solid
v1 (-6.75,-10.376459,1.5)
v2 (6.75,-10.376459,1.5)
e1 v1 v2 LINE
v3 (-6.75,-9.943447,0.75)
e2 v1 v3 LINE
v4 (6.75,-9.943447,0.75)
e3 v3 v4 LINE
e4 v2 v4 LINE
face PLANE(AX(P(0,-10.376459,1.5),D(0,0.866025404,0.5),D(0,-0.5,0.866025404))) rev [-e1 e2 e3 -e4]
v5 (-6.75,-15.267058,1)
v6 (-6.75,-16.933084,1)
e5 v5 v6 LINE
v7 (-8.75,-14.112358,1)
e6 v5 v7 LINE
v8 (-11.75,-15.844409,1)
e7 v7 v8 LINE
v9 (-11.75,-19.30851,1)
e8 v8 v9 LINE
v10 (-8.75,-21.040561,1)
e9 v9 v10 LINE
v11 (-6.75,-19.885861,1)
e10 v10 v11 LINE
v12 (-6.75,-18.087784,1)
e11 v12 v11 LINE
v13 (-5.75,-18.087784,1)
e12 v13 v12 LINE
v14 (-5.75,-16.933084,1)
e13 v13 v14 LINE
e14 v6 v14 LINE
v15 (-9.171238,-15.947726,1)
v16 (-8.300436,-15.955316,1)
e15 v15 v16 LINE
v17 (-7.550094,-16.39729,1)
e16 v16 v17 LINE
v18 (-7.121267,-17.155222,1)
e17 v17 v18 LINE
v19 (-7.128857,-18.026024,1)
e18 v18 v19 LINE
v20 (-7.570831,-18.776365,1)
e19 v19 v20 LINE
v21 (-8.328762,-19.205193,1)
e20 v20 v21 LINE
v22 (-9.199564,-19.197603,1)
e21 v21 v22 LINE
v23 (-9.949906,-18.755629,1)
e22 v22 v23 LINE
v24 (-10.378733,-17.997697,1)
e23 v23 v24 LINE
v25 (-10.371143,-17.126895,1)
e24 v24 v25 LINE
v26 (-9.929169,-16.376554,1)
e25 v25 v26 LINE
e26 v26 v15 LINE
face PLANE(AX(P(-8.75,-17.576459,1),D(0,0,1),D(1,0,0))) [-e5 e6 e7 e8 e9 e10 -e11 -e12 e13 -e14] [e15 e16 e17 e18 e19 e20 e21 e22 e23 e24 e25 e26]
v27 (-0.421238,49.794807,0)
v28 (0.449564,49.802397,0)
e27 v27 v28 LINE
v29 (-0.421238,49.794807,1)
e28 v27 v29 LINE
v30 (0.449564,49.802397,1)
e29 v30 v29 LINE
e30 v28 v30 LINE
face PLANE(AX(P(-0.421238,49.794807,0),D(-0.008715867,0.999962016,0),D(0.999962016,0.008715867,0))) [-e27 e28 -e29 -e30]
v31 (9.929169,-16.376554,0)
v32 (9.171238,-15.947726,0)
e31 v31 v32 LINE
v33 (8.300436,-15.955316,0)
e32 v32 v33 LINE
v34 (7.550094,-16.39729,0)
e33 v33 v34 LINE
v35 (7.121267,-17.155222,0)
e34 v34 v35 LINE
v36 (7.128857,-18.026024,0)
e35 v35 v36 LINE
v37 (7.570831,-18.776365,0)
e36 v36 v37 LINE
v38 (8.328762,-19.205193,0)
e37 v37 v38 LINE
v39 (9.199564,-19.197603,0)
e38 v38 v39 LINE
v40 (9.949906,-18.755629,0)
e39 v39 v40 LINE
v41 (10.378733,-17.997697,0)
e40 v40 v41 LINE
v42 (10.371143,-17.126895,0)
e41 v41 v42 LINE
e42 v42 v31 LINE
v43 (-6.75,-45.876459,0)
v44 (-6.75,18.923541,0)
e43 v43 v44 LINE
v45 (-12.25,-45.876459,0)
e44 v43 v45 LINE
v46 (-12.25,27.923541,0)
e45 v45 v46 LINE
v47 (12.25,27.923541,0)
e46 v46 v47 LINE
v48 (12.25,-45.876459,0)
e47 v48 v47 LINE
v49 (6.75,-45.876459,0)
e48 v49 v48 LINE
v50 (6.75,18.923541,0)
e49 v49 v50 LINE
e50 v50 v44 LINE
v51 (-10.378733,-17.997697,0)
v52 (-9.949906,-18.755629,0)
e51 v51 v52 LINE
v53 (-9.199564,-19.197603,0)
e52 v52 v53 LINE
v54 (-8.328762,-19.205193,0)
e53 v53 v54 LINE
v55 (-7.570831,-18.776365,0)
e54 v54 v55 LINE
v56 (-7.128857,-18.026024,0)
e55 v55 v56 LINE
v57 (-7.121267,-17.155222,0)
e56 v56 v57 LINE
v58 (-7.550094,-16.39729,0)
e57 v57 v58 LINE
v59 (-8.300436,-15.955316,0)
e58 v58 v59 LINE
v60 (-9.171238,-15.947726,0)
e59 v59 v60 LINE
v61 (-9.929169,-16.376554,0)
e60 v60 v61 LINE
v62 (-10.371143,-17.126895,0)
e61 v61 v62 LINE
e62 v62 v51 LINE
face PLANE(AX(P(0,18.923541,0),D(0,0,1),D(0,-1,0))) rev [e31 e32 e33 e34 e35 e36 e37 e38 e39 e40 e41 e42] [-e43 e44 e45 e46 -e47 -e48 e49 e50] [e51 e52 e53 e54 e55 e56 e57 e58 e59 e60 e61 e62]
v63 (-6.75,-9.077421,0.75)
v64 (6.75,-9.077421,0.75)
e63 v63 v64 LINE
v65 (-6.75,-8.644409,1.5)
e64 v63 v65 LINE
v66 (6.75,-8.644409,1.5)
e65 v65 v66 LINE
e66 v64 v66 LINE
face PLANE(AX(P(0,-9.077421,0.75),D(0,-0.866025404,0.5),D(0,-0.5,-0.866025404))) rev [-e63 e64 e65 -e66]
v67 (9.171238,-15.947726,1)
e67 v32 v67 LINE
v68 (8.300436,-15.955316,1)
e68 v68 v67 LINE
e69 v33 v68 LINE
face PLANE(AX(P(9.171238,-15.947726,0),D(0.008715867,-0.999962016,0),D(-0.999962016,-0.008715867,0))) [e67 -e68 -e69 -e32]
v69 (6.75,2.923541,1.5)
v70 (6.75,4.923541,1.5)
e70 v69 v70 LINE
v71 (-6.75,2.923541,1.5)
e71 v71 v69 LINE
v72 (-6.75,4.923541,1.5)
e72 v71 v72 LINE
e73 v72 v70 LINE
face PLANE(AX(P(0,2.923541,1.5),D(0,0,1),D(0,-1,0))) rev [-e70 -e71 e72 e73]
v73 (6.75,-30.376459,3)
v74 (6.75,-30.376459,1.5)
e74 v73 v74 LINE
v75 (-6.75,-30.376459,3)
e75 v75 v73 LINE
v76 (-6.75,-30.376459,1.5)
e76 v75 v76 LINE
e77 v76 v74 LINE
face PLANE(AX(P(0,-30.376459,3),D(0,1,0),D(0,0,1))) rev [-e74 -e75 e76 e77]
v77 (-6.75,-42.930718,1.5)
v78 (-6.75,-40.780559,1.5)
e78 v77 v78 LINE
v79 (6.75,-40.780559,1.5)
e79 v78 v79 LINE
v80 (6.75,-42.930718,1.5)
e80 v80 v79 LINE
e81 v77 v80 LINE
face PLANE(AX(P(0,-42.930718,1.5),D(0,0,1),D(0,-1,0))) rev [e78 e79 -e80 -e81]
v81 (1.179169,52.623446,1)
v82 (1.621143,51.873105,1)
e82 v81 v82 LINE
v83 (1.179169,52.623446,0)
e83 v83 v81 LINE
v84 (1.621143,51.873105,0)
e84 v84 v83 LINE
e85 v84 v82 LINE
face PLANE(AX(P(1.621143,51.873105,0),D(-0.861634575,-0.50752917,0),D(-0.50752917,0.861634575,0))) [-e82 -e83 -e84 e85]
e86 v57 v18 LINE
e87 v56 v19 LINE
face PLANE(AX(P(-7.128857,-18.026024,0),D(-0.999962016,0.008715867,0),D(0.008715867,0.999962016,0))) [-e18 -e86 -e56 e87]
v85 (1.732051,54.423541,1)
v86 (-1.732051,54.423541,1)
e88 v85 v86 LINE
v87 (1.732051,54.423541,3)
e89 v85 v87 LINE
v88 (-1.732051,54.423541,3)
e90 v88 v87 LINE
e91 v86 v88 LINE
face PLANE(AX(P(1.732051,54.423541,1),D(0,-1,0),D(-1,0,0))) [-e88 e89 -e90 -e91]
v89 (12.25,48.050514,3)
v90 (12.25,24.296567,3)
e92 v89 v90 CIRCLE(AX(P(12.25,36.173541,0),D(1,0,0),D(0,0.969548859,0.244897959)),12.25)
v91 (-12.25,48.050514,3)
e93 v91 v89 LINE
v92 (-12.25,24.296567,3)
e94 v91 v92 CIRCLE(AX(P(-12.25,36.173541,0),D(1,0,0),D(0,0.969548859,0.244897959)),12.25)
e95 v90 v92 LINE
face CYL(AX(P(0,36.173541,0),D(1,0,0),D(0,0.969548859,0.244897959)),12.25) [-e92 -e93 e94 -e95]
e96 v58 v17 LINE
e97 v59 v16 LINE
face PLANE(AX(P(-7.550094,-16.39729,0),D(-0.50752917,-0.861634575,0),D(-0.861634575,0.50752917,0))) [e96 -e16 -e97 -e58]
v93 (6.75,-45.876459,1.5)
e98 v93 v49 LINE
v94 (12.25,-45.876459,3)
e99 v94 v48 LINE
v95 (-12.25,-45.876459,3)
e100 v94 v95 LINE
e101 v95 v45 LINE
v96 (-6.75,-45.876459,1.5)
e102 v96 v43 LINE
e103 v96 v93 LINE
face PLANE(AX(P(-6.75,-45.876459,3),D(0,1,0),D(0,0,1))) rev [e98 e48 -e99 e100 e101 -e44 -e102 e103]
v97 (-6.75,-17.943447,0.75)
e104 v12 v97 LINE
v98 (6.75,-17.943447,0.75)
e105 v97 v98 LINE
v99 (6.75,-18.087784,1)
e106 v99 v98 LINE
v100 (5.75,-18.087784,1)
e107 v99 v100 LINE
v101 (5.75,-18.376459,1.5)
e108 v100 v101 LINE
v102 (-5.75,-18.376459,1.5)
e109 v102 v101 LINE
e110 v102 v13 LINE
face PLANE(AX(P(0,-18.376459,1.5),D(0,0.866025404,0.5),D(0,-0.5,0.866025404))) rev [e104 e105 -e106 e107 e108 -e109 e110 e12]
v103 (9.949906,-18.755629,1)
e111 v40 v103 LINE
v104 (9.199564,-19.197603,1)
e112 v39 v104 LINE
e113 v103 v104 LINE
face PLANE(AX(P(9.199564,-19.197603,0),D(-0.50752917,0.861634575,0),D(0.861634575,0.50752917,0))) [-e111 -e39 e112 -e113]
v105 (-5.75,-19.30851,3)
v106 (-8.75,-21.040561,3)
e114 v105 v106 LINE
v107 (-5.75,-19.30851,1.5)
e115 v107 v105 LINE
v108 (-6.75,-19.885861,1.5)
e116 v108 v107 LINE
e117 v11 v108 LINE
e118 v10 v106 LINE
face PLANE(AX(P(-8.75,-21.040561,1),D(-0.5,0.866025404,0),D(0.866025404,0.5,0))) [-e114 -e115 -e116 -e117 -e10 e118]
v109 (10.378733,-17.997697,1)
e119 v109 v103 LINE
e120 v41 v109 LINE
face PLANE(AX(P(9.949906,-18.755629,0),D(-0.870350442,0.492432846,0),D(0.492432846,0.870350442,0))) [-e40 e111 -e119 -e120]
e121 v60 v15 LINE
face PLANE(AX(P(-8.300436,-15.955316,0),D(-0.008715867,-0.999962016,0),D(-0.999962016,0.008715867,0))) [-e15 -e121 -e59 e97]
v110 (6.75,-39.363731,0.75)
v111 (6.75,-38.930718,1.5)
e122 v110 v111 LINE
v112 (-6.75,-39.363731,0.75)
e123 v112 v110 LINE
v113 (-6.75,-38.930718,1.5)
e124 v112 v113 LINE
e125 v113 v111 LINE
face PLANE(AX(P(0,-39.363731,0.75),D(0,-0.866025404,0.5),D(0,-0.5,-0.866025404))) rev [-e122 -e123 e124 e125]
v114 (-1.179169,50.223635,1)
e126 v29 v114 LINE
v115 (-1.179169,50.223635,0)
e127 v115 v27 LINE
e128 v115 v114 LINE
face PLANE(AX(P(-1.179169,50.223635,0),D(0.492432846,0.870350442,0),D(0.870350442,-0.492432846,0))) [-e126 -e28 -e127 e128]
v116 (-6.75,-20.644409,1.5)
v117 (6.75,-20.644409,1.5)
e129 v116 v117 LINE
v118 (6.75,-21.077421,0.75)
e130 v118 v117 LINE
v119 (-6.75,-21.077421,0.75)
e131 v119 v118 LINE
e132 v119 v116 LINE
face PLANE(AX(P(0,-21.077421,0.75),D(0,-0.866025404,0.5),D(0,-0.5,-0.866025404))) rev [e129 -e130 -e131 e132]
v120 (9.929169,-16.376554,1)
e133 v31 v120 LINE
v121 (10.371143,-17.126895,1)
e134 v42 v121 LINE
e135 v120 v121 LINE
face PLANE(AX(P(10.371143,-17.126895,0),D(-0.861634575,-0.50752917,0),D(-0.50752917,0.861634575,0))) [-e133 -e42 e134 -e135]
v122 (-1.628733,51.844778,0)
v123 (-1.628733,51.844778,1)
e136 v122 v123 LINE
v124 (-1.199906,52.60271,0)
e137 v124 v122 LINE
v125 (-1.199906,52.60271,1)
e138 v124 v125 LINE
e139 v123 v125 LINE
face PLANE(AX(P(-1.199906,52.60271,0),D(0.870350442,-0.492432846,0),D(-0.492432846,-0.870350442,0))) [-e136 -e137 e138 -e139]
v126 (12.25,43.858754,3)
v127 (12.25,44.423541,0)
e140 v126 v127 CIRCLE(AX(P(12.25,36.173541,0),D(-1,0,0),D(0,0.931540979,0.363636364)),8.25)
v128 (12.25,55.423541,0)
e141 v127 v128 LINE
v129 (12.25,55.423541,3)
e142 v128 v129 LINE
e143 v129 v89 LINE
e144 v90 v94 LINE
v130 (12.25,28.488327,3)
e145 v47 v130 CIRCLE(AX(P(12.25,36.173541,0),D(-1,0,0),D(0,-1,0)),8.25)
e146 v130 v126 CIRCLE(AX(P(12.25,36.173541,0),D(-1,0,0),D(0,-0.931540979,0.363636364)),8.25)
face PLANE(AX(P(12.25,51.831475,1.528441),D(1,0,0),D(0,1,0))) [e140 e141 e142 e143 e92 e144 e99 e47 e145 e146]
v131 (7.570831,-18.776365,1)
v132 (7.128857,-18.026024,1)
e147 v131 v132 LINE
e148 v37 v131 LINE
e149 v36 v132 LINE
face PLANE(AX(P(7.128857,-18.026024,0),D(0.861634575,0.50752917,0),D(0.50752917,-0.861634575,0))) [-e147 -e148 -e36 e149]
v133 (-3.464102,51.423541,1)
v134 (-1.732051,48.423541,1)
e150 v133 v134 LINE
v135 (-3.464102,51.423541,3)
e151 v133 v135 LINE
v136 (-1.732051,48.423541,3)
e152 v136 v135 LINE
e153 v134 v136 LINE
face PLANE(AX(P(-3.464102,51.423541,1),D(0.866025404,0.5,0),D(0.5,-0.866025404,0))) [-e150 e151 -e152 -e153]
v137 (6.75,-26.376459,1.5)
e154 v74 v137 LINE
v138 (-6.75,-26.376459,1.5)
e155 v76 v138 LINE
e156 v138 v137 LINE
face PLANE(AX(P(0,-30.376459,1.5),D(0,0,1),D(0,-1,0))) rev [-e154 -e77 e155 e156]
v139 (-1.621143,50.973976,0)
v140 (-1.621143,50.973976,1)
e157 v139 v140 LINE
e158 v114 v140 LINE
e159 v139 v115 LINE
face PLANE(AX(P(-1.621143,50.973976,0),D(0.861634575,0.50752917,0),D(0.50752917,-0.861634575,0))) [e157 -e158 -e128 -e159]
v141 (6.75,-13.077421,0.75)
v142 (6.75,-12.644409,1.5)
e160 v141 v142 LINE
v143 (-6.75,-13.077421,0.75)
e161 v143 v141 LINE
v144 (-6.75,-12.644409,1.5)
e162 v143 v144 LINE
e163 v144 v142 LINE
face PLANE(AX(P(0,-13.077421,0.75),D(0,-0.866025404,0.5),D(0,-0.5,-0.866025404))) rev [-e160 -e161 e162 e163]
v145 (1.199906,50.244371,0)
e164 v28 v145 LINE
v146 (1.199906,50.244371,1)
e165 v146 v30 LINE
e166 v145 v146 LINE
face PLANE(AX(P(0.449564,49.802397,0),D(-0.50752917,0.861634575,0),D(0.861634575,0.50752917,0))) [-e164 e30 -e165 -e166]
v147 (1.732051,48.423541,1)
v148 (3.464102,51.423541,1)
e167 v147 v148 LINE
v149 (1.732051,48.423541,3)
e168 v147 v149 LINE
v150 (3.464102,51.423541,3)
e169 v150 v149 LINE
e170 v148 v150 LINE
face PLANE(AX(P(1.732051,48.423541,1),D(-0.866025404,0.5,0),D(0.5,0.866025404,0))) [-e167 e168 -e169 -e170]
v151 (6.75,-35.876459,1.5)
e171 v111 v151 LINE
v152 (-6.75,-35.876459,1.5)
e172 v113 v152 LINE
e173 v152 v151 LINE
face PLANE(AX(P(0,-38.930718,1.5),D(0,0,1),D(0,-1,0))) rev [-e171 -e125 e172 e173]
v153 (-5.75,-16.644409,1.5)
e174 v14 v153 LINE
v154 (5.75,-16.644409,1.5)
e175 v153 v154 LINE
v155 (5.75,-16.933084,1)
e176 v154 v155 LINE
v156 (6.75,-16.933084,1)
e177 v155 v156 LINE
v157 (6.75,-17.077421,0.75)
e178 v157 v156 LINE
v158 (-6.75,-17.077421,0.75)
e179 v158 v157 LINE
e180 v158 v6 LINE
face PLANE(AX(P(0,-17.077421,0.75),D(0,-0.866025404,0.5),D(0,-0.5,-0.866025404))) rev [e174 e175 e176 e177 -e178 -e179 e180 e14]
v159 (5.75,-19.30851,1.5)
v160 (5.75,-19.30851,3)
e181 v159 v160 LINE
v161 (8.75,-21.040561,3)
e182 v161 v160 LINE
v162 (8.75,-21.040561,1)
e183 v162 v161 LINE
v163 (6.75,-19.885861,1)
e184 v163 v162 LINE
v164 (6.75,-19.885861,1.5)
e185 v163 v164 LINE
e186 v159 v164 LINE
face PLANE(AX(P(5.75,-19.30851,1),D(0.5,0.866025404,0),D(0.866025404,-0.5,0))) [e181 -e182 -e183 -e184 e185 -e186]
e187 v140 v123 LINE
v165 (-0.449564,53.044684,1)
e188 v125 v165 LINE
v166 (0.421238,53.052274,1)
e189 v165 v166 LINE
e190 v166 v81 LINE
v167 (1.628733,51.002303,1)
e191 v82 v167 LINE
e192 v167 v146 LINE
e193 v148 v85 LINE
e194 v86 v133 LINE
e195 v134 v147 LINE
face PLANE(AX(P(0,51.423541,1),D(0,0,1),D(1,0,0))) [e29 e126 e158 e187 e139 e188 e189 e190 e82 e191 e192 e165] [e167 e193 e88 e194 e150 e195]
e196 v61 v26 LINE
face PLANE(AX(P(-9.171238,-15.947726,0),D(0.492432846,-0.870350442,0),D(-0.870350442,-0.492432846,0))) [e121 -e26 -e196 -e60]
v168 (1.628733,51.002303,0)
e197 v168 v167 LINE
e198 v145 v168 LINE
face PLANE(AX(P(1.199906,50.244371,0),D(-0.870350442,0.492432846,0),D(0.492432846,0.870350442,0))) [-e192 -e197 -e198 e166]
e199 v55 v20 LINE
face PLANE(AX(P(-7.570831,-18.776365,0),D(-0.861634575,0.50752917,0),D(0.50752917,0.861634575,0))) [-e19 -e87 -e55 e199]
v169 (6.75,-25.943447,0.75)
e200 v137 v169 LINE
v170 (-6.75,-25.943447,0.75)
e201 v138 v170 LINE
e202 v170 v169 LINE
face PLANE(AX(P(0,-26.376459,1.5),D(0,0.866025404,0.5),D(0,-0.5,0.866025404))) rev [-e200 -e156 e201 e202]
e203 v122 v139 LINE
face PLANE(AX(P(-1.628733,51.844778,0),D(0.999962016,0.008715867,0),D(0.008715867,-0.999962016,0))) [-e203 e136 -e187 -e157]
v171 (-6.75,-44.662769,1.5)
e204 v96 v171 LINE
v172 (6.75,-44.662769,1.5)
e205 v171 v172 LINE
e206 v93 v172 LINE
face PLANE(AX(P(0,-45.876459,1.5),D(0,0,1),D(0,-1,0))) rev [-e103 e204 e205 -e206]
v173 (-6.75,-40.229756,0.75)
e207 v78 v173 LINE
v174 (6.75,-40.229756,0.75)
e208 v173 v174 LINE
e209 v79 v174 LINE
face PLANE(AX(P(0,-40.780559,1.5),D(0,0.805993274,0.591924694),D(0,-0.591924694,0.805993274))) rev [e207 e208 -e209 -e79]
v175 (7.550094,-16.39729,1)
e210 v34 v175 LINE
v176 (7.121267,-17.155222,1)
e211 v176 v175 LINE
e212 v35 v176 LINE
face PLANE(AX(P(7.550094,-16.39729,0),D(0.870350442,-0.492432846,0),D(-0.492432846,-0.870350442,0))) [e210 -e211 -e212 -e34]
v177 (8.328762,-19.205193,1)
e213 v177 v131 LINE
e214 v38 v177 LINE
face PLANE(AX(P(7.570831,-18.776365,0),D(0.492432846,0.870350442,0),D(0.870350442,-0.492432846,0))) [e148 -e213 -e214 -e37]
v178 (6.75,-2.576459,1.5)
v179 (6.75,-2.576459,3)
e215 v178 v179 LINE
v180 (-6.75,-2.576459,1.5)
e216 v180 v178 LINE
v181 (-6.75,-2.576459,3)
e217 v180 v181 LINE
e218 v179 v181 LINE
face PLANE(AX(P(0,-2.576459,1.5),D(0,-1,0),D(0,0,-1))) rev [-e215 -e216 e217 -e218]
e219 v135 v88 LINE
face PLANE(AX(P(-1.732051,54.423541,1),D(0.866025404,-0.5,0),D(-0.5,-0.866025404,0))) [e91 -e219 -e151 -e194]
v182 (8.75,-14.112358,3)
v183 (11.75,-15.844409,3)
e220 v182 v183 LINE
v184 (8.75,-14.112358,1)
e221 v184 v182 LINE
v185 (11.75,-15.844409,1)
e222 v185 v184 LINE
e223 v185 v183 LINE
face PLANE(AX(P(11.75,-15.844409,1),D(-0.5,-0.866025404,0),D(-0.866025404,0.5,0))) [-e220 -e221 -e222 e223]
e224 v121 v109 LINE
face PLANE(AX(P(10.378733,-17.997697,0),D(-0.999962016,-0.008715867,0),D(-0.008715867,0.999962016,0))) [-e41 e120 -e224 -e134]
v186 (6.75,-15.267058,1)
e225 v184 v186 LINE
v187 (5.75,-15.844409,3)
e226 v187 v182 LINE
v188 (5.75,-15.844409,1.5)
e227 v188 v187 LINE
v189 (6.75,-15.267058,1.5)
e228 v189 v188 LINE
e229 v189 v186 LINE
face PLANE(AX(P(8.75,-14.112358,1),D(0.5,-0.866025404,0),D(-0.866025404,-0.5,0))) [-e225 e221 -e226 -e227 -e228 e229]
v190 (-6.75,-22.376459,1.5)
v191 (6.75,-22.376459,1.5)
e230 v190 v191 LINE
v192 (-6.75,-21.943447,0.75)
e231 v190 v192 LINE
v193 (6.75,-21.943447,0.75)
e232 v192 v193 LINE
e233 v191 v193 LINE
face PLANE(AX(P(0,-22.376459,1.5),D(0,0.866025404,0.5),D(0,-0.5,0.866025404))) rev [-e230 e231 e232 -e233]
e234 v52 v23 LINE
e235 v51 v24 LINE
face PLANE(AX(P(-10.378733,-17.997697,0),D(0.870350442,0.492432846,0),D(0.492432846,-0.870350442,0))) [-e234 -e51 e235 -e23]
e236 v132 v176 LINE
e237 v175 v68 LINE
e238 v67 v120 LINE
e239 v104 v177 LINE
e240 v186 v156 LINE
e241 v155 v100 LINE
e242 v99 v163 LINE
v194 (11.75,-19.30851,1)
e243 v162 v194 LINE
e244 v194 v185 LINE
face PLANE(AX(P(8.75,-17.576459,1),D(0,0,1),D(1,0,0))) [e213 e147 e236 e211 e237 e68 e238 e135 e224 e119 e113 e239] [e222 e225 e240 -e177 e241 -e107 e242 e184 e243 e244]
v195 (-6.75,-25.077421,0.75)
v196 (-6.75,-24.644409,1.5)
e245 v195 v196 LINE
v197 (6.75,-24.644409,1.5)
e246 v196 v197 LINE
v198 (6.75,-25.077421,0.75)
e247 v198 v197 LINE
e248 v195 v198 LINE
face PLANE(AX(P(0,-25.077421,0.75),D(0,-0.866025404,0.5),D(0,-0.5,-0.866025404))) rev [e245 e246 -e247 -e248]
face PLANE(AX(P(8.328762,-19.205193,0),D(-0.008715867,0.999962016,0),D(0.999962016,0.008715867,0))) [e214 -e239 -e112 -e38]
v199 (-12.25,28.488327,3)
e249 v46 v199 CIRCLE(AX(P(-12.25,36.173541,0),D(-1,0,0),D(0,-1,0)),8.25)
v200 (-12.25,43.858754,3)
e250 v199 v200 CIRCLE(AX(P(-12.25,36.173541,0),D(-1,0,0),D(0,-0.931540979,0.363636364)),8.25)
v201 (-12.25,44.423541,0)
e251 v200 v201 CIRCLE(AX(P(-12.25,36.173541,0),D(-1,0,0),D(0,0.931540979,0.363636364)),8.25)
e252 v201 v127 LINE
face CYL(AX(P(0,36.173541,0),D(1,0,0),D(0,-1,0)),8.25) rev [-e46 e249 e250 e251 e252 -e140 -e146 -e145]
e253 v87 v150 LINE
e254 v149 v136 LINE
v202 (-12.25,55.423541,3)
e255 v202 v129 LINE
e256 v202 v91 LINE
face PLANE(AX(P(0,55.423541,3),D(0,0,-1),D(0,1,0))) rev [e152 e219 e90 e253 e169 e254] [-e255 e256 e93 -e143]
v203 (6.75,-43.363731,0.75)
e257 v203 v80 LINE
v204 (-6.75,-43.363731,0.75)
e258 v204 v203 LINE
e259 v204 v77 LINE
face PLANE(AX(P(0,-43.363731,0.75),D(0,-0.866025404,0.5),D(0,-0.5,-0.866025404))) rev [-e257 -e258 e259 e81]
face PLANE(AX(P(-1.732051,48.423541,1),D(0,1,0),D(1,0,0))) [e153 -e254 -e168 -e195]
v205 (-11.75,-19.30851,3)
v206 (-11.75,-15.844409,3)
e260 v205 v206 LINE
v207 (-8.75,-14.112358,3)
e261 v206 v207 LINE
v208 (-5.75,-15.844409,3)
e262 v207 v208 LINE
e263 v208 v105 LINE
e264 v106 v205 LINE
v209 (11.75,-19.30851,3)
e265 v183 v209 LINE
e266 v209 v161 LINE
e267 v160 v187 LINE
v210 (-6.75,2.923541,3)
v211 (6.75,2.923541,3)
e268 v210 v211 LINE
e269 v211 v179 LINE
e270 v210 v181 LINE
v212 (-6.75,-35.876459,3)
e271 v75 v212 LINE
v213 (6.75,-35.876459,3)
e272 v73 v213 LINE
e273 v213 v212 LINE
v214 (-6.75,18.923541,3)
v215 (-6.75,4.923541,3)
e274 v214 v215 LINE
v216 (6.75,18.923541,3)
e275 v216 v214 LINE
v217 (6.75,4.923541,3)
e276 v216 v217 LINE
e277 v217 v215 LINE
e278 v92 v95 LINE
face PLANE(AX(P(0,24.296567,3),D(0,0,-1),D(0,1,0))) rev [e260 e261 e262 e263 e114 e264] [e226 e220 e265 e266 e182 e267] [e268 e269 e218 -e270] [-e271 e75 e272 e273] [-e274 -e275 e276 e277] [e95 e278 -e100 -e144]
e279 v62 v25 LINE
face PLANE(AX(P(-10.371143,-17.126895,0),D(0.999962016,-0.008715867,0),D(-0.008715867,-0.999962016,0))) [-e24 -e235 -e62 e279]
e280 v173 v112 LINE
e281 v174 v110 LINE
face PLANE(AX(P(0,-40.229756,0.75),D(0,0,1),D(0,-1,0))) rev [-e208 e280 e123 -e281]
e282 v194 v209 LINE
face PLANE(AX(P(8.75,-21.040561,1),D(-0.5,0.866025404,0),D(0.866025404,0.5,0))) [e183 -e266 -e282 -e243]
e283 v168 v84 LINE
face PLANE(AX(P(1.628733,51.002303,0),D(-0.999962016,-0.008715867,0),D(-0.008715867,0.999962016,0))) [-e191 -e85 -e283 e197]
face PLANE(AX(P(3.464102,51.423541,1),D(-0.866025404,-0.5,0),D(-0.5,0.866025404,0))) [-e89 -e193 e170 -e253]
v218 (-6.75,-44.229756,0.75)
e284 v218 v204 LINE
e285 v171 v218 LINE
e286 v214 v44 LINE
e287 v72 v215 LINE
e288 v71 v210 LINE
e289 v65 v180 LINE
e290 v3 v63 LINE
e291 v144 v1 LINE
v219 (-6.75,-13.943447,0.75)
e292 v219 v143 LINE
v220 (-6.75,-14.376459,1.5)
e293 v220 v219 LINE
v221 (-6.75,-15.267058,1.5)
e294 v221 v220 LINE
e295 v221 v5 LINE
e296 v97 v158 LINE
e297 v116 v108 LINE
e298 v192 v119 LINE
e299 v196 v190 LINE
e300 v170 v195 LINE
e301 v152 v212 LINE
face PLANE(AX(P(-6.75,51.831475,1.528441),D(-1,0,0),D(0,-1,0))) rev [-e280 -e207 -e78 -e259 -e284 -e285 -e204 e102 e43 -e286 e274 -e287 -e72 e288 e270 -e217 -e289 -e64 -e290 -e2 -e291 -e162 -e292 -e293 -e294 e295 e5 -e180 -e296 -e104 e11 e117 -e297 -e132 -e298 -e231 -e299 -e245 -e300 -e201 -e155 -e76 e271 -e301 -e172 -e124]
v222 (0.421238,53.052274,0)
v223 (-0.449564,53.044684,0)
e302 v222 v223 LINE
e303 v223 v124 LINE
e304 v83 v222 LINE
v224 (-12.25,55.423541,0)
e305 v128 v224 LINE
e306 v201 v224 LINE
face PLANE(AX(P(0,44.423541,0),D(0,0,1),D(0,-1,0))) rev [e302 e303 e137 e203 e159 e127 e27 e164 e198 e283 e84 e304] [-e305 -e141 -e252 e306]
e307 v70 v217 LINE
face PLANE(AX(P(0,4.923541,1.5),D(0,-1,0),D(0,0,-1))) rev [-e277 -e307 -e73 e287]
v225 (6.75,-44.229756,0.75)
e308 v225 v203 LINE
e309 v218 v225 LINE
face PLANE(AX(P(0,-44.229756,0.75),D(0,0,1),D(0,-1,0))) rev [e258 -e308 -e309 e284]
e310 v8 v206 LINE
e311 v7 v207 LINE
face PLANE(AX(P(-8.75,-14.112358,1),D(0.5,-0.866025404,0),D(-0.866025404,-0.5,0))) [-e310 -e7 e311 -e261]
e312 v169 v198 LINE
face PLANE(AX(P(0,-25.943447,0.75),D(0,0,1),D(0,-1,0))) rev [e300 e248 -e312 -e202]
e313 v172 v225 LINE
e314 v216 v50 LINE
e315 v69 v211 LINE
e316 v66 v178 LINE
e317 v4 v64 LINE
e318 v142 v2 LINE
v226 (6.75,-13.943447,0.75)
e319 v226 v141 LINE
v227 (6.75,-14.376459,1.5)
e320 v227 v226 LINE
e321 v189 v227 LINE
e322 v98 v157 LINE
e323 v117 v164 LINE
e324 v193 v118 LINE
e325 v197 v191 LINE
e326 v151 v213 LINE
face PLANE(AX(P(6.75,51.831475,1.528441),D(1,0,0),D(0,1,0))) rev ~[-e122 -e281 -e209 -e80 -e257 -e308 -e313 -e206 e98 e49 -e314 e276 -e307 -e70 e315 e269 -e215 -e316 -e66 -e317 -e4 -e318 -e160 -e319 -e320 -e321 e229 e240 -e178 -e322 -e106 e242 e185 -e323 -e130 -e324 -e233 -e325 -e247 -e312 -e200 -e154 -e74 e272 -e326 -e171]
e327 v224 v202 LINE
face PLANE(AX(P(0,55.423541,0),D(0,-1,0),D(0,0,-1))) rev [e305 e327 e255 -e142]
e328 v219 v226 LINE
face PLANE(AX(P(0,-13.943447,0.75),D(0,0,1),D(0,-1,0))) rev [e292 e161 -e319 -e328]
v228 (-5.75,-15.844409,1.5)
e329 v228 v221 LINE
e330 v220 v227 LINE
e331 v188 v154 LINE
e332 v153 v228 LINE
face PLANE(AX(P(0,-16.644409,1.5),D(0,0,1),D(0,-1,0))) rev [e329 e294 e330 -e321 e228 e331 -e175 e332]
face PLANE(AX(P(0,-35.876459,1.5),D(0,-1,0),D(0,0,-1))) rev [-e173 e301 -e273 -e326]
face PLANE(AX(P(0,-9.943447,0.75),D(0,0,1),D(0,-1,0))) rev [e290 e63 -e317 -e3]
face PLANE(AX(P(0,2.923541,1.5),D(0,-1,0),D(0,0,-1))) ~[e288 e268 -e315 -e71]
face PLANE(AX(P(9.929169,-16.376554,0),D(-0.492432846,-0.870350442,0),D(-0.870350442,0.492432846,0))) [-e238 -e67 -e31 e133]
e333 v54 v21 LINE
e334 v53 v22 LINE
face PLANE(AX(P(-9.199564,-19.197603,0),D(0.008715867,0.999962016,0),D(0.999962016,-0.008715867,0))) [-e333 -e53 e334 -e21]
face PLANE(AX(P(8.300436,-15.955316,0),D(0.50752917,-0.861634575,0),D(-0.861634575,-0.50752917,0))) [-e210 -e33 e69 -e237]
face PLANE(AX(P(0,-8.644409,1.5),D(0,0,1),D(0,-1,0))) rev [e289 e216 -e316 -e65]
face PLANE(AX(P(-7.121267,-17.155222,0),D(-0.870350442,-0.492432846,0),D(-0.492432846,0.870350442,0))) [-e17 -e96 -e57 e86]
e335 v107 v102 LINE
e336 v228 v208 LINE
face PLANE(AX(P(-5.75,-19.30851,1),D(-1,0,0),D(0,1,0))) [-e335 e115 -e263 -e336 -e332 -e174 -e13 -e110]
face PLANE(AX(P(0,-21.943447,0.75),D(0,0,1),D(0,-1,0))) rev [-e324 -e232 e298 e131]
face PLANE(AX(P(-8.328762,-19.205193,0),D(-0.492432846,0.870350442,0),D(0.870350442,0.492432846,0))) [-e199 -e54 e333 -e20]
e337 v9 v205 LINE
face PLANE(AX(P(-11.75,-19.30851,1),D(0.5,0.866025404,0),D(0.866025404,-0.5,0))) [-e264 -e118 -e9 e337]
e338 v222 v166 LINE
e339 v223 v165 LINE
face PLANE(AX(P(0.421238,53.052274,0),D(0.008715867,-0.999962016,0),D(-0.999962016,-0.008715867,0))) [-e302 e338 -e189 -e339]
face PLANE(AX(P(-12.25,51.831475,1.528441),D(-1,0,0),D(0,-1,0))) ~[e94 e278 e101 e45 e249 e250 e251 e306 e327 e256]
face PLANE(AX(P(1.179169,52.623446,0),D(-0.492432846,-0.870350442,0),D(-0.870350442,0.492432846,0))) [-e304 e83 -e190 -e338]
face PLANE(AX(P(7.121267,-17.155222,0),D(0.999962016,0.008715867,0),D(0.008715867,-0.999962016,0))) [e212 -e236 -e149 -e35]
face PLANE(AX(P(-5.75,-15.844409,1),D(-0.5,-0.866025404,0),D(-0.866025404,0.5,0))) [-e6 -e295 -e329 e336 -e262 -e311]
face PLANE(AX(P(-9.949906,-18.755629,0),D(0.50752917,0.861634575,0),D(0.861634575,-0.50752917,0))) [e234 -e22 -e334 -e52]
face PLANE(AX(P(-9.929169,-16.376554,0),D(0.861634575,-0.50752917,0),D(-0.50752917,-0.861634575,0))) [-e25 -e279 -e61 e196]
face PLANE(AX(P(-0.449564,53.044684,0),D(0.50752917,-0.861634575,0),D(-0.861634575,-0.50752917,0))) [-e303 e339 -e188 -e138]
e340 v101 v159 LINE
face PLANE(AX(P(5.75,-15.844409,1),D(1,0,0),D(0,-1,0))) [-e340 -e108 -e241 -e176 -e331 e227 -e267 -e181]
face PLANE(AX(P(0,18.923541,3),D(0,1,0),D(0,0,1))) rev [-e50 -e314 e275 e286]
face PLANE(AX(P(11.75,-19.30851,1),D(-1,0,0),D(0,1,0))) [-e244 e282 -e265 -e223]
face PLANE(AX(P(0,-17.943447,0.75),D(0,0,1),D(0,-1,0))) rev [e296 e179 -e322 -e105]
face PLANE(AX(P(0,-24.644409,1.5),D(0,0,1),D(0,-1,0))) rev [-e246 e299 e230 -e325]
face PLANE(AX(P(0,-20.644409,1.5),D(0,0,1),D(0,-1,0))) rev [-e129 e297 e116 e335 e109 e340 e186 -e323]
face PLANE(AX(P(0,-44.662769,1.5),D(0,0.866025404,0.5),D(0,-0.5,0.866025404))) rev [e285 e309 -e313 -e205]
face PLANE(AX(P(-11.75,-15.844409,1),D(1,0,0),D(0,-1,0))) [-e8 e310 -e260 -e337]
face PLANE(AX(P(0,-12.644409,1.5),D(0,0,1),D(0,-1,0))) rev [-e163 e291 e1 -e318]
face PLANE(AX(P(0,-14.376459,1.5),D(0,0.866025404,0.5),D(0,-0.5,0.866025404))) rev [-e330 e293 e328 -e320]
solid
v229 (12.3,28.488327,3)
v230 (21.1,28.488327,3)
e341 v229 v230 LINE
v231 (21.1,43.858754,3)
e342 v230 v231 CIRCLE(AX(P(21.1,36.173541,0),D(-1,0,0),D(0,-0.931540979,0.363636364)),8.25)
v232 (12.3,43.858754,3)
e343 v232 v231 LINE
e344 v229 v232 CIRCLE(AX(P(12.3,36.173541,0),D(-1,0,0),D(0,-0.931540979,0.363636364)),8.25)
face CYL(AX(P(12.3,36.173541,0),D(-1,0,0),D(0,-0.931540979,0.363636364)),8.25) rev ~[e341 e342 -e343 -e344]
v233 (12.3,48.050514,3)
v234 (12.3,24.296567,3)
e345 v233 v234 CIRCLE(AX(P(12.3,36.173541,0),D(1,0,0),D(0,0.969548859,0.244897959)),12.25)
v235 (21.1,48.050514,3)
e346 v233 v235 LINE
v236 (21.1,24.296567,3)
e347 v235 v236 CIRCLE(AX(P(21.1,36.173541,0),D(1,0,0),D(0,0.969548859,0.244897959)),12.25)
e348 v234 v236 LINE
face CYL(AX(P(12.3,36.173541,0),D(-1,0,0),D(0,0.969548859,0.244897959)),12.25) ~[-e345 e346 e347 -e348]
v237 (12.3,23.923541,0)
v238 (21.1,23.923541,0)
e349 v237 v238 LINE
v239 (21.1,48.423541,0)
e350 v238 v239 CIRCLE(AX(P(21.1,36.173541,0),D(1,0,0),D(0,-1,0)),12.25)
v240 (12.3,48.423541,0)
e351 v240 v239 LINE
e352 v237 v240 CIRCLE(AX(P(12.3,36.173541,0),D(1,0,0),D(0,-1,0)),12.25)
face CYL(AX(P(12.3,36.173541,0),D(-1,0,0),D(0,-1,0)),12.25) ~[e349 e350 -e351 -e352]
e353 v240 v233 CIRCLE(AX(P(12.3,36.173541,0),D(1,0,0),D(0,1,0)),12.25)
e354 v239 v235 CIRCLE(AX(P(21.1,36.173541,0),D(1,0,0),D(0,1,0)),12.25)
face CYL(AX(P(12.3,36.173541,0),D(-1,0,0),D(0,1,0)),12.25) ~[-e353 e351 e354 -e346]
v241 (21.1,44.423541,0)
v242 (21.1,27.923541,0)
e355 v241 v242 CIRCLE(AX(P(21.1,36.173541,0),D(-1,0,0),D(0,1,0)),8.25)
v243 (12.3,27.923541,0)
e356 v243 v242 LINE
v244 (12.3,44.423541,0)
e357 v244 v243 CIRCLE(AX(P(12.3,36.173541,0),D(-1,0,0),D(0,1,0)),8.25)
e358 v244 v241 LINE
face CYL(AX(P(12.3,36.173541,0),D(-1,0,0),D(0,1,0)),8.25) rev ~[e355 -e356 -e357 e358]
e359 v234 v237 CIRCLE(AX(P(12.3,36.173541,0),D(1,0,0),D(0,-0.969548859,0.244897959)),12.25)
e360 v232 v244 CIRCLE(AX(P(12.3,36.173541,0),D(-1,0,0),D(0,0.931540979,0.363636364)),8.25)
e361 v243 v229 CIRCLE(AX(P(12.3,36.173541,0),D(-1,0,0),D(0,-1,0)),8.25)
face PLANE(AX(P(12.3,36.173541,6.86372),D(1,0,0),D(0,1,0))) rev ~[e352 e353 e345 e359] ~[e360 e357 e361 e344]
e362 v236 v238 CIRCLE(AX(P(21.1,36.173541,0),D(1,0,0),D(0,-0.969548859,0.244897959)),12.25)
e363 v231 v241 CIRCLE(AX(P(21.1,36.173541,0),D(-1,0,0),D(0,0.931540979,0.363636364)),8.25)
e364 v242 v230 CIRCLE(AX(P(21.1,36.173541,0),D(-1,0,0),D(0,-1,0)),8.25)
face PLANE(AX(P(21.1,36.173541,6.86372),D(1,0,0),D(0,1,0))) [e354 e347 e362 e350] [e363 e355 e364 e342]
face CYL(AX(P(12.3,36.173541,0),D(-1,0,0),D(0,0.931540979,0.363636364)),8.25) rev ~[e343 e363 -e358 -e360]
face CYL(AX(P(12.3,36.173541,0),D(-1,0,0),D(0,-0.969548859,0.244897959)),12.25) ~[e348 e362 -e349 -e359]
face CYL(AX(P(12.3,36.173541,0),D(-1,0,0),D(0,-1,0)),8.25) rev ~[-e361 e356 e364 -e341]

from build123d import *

# Parameters (mm, degrees)
F1_START = 6.75
F0_W     = 14
F0_H     = 1.5
F0_W_2   = 2
F0_W_3   = 5.5
F1_DEPTH = 5.5
F2_DEPTH = 6.75
F5_DEPTH = 6
F6_START = 1
F6_DEPTH = 24
F7_START = 12.3
F7_DEPTH = 8.8


with BuildPart() as f1:
    # F0 (on Right) → F1 (new body)
    with BuildSketch(Plane.YZ.offset(F1_START)):
        with BuildLine():
            ThreePointArc((48.0505140551, 3), (48.3299262154, 1.5115512524), (48.4235405349, 0))
            Line((48.4235405349, 0), (55.4235405349, 0))
            Line((55.4235405349, 0), (55.4235405349, 3))
            Line((55.4235405349, 3), (48.0505140551, 3))
        make_face()
        with BuildLine():
            Line((44.4235405349, 0), (48.4235405349, 0))
            ThreePointArc((48.4235405349, 0), (48.3299262154, 1.5115512524), (48.0505140551, 3))
            Line((48.0505140551, 3), (43.8587536094, 3))
            ThreePointArc((43.8587536094, 3), (44.2811143972, 1.5263505717), (44.4235405349, 0))
        make_face()
        with BuildLine():
            ThreePointArc((48.0505140551, 3), (36.1735405349, 12.25), (24.2965670147, 3))
            Line((24.2965670147, 3), (28.4883274605, 3))
            ThreePointArc((28.4883274605, 3), (36.1735405349, 8.25), (43.8587536094, 3))
            Line((43.8587536094, 3), (48.0505140551, 3))
        make_face()
        with BuildLine():
            ThreePointArc((24.2965670147, 3), (24.0171548545, 1.5115512524), (23.9235405349, 0))
            Line((23.9235405349, 0), (27.9235405349, 0))
            ThreePointArc((27.9235405349, 0), (28.0659666727, 1.5263505717), (28.4883274605, 3))
            Line((28.4883274605, 3), (24.2965670147, 3))
        make_face()
        with BuildLine():
            Line((18.9235405349, 1.5), (18.9235405349, 0))
            Line((18.9235405349, 0), (23.9235405349, 0))
            ThreePointArc((23.9235405349, 0), (24.0171548545, 1.5115512524), (24.2965670147, 3))
            Line((24.2965670147, 3), (18.9235405349, 3))
            Line((18.9235405349, 3), (18.9235405349, 1.5))
        make_face()
        with Locations((11.9235405349, 2.25)):
            Rectangle(F0_W, F0_H)
        with Locations((3.9235405349, 2.25)):
            Rectangle(F0_W_2, F0_H)
        Polygon((-44.6627688753, 1.5), (-45.8764594651, 1.5), (-45.8764594651, 0), (18.9235405349, 0), (18.9235405349, 1.5), (4.9235405349, 1.5), (2.9235405349, 1.5), (-2.5764594651, 1.5), (-8.6444086575, 1.5), (-9.0774213594, 0.75), (-9.9434467632, 0.75), (-10.3764594651, 1.5), (-12.6444086575, 1.5), (-13.0774213594, 0.75), (-13.9434467632, 0.75), (-14.3764594651, 1.5), (-16.6444086575, 1.5), (-17.0774213594, 0.75), (-17.9434467632, 0.75), (-18.3764594651, 1.5), (-20.6444086575, 1.5), (-21.0774213594, 0.75), (-21.9434467632, 0.75), (-22.3764594651, 1.5), (-24.6444086575, 1.5), (-25.0774213594, 0.75), (-25.9434467632, 0.75), (-26.3764594651, 1.5), (-30.3764594651, 1.5), (-35.8764594651, 1.5), (-38.9307180678, 1.5), (-39.3637307697, 0.75), (-40.2297561734, 0.75), (-40.7805591822, 1.5), (-42.9307180678, 1.5), (-43.3637307697, 0.75), (-44.2297561734, 0.75), align=None)
        with Locations((0.1735405349, 2.25)):
            Rectangle(F0_W_3, F0_H)
        Polygon((-2.5764594651, 3), (-30.3764594651, 3), (-30.3764594651, 1.5), (-26.3764594651, 1.5), (-24.6444086575, 1.5), (-22.3764594651, 1.5), (-20.6444086575, 1.5), (-18.3764594651, 1.5), (-16.6444086575, 1.5), (-14.3764594651, 1.5), (-12.6444086575, 1.5), (-10.3764594651, 1.5), (-8.6444086575, 1.5), (-2.5764594651, 1.5), align=None)
        Polygon((-9.0774213594, 0.75), (-8.6444086575, 1.5), (-10.3764594651, 1.5), (-9.9434467632, 0.75), align=None)
        Polygon((-13.0774213594, 0.75), (-12.6444086575, 1.5), (-14.3764594651, 1.5), (-13.9434467632, 0.75), align=None)
        Polygon((-16.6444086575, 1.5), (-18.3764594651, 1.5), (-17.9434467632, 0.75), (-17.0774213594, 0.75), align=None)
        Polygon((-20.6444086575, 1.5), (-22.3764594651, 1.5), (-21.9434467632, 0.75), (-21.0774213594, 0.75), align=None)
        Polygon((-39.3637307697, 0.75), (-38.9307180678, 1.5), (-40.7805591822, 1.5), (-40.2297561734, 0.75), align=None)
        Polygon((-35.8764594651, 3), (-45.8764594651, 3), (-45.8764594651, 1.5), (-44.6627688753, 1.5), (-42.9307180678, 1.5), (-40.7805591822, 1.5), (-38.9307180678, 1.5), (-35.8764594651, 1.5), align=None)
        with Locations((-33.1264594651, 2.25)):
            Rectangle(F0_W_3, F0_H)
        Polygon((-42.9307180678, 1.5), (-44.6627688753, 1.5), (-44.2297561734, 0.75), (-43.3637307697, 0.75), align=None)
        Polygon((-24.6444086575, 1.5), (-26.3764594651, 1.5), (-25.9434467632, 0.75), (-25.0774213594, 0.75), align=None)
    extrude(amount=F1_DEPTH)

    # F0 (on Right) → F2 (join)
    with BuildSketch(Plane.YZ):
        with BuildLine():
            Line((18.9235405349, 1.5), (18.9235405349, 0))
            Line((18.9235405349, 0), (23.9235405349, 0))
            ThreePointArc((23.9235405349, 0), (24.0171548545, 1.5115512524), (24.2965670147, 3))
            Line((24.2965670147, 3), (18.9235405349, 3))
            Line((18.9235405349, 3), (18.9235405349, 1.5))
        make_face()
        with BuildLine():
            ThreePointArc((24.2965670147, 3), (24.0171548545, 1.5115512524), (23.9235405349, 0))
            Line((23.9235405349, 0), (27.9235405349, 0))
            ThreePointArc((27.9235405349, 0), (28.0659666727, 1.5263505717), (28.4883274605, 3))
            Line((28.4883274605, 3), (24.2965670147, 3))
        make_face()
        with BuildLine():
            ThreePointArc((48.0505140551, 3), (36.1735405349, 12.25), (24.2965670147, 3))
            Line((24.2965670147, 3), (28.4883274605, 3))
            ThreePointArc((28.4883274605, 3), (36.1735405349, 8.25), (43.8587536094, 3))
            Line((43.8587536094, 3), (48.0505140551, 3))
        make_face()
        with BuildLine():
            Line((44.4235405349, 0), (48.4235405349, 0))
            ThreePointArc((48.4235405349, 0), (48.3299262154, 1.5115512524), (48.0505140551, 3))
            Line((48.0505140551, 3), (43.8587536094, 3))
            ThreePointArc((43.8587536094, 3), (44.2811143972, 1.5263505717), (44.4235405349, 0))
        make_face()
        with BuildLine():
            ThreePointArc((48.0505140551, 3), (48.3299262154, 1.5115512524), (48.4235405349, 0))
            Line((48.4235405349, 0), (55.4235405349, 0))
            Line((55.4235405349, 0), (55.4235405349, 3))
            Line((55.4235405349, 3), (48.0505140551, 3))
        make_face()
        with Locations((3.9235405349, 2.25)):
            Rectangle(F0_W_2, F0_H)
        Polygon((-2.5764594651, 3), (-30.3764594651, 3), (-30.3764594651, 1.5), (-26.3764594651, 1.5), (-24.6444086575, 1.5), (-22.3764594651, 1.5), (-20.6444086575, 1.5), (-18.3764594651, 1.5), (-16.6444086575, 1.5), (-14.3764594651, 1.5), (-12.6444086575, 1.5), (-10.3764594651, 1.5), (-8.6444086575, 1.5), (-2.5764594651, 1.5), align=None)
        Polygon((-9.0774213594, 0.75), (-8.6444086575, 1.5), (-10.3764594651, 1.5), (-9.9434467632, 0.75), align=None)
        Polygon((-13.0774213594, 0.75), (-12.6444086575, 1.5), (-14.3764594651, 1.5), (-13.9434467632, 0.75), align=None)
        Polygon((-16.6444086575, 1.5), (-18.3764594651, 1.5), (-17.9434467632, 0.75), (-17.0774213594, 0.75), align=None)
        Polygon((-20.6444086575, 1.5), (-22.3764594651, 1.5), (-21.9434467632, 0.75), (-21.0774213594, 0.75), align=None)
        Polygon((-24.6444086575, 1.5), (-26.3764594651, 1.5), (-25.9434467632, 0.75), (-25.0774213594, 0.75), align=None)
        Polygon((-35.8764594651, 3), (-45.8764594651, 3), (-45.8764594651, 1.5), (-44.6627688753, 1.5), (-42.9307180678, 1.5), (-40.7805591822, 1.5), (-38.9307180678, 1.5), (-35.8764594651, 1.5), align=None)
        Polygon((-42.9307180678, 1.5), (-44.6627688753, 1.5), (-44.2297561734, 0.75), (-43.3637307697, 0.75), align=None)
        Polygon((-39.3637307697, 0.75), (-38.9307180678, 1.5), (-40.7805591822, 1.5), (-40.2297561734, 0.75), align=None)
    extrude(amount=F2_DEPTH)

    # F3: F1 across plane


with BuildPart() as f1_1:
    add(f1.part)
    add(f1.part.mirror(Plane.YZ))

    # F4 (on Top) → F5 (cut)
    with BuildSketch(Plane.XY):
        Polygon((-7.570830866, -18.7763650857), (-7.1288567643, -18.0260236477), (-7.1212666834, -17.15522185), (-7.5500943794, -16.397290331), (-8.3004358174, -15.9553162293), (-9.1712376151, -15.9477261485), (-9.929169134, -16.3765538444), (-10.3711432357, -17.1268952825), (-10.3787333166, -17.9976970802), (-9.9499056206, -18.7556285991), (-9.1995641826, -19.1976027008), (-8.3287623849, -19.2051927817), align=None)
        Polygon((8.3004358174, -15.9553162293), (7.5500943794, -16.397290331), (7.1212666834, -17.15522185), (7.1288567643, -18.0260236477), (7.570830866, -18.7763650857), (8.3287623849, -19.2051927817), (9.1995641826, -19.1976027008), (9.9499056206, -18.7556285991), (10.3787333166, -17.9976970802), (10.3711432357, -17.1268952825), (9.929169134, -16.3765538444), (9.1712376151, -15.9477261485), align=None)
        Polygon((1.6211432357, 51.8731047175), (1.179169134, 52.6234461556), (0.4212376151, 53.0522738515), (-0.4495641826, 53.0446837707), (-1.1999056206, 52.602709669), (-1.6287333166, 51.84477815), (-1.6211432357, 50.9739763523), (-1.179169134, 50.2236349143), (-0.4212376151, 49.7948072183), (0.4495641826, 49.8023972992), (1.1999056206, 50.2443714009), (1.6287333166, 51.0023029198), align=None)
    extrude(amount=F5_DEPTH, mode=Mode.SUBTRACT)

    # F4 (on Top) → F6 (cut)
    with BuildSketch(Plane.XY.offset(F6_START)):
        Polygon((1.7320508076, 48.4235405349), (3.4641016151, 51.4235405349), (1.7320508076, 54.4235405349), (-1.7320508076, 54.4235405349), (-3.4641016151, 51.4235405349), (-1.7320508076, 48.4235405349), align=None)
        Polygon((0.4212376151, 53.0522738515), (1.179169134, 52.6234461556), (1.6211432357, 51.8731047175), (1.6287333166, 51.0023029198), (1.1999056206, 50.2443714009), (0.4495641826, 49.8023972992), (-0.4212376151, 49.7948072183), (-1.179169134, 50.2236349143), (-1.6211432357, 50.9739763523), (-1.6287333166, 51.84477815), (-1.1999056206, 52.602709669), (-0.4495641826, 53.0446837707), align=None, mode=Mode.SUBTRACT)
        Polygon((-5.75, -15.8444086575), (-8.75, -14.1123578499), (-11.75, -15.8444086575), (-11.75, -19.3085102726), (-8.75, -21.0405610802), (-5.75, -19.3085102726), align=None)
        Polygon((-7.1212666834, -17.15522185), (-7.1288567643, -18.0260236477), (-7.570830866, -18.7763650857), (-8.3287623849, -19.2051927817), (-9.1995641826, -19.1976027008), (-9.9499056206, -18.7556285991), (-10.3787333166, -17.9976970802), (-10.3711432357, -17.1268952825), (-9.929169134, -16.3765538444), (-9.1712376151, -15.9477261485), (-8.3004358174, -15.9553162293), (-7.5500943794, -16.397290331), align=None, mode=Mode.SUBTRACT)
        Polygon((11.75, -15.8444086575), (8.75, -14.1123578499), (5.75, -15.8444086575), (5.75, -19.3085102726), (8.75, -21.0405610802), (11.75, -19.3085102726), align=None)
        Polygon((7.1212666834, -17.15522185), (7.5500943794, -16.397290331), (8.3004358174, -15.9553162293), (9.1712376151, -15.9477261485), (9.929169134, -16.3765538444), (10.3711432357, -17.1268952825), (10.3787333166, -17.9976970802), (9.9499056206, -18.7556285991), (9.1995641826, -19.1976027008), (8.3287623849, -19.2051927817), (7.570830866, -18.7763650857), (7.1288567643, -18.0260236477), align=None, mode=Mode.SUBTRACT)
    extrude(amount=F6_DEPTH, mode=Mode.SUBTRACT)


with BuildPart() as f7:
    # F0 (on Right) → F7 (new body)
    with BuildSketch(Plane.YZ.offset(F7_START)):
        with BuildLine():
            ThreePointArc((48.0505140551, 3), (36.1735405349, 12.25), (24.2965670147, 3))
            Line((24.2965670147, 3), (28.4883274605, 3))
            ThreePointArc((28.4883274605, 3), (36.1735405349, 8.25), (43.8587536094, 3))
            Line((43.8587536094, 3), (48.0505140551, 3))
        make_face()
        with BuildLine():
            ThreePointArc((24.2965670147, 3), (24.0171548545, 1.5115512524), (23.9235405349, 0))
            Line((23.9235405349, 0), (27.9235405349, 0))
            ThreePointArc((27.9235405349, 0), (28.0659666727, 1.5263505717), (28.4883274605, 3))
            Line((28.4883274605, 3), (24.2965670147, 3))
        make_face()
        with BuildLine():
            Line((44.4235405349, 0), (48.4235405349, 0))
            ThreePointArc((48.4235405349, 0), (48.3299262154, 1.5115512524), (48.0505140551, 3))
            Line((48.0505140551, 3), (43.8587536094, 3))
            ThreePointArc((43.8587536094, 3), (44.2811143972, 1.5263505717), (44.4235405349, 0))
        make_face()
        with BuildLine():
            Line((27.9235405349, 0), (23.9235405349, 0))
            ThreePointArc((23.9235405349, 0), (36.1735405349, -12.25), (48.4235405349, 0))
            Line((48.4235405349, 0), (44.4235405349, 0))
            ThreePointArc((44.4235405349, 0), (36.1735405349, -8.25), (27.9235405349, 0))
        make_face()
    extrude(amount=F7_DEPTH)


solid = Compound([f1_1.part, f7.part])
